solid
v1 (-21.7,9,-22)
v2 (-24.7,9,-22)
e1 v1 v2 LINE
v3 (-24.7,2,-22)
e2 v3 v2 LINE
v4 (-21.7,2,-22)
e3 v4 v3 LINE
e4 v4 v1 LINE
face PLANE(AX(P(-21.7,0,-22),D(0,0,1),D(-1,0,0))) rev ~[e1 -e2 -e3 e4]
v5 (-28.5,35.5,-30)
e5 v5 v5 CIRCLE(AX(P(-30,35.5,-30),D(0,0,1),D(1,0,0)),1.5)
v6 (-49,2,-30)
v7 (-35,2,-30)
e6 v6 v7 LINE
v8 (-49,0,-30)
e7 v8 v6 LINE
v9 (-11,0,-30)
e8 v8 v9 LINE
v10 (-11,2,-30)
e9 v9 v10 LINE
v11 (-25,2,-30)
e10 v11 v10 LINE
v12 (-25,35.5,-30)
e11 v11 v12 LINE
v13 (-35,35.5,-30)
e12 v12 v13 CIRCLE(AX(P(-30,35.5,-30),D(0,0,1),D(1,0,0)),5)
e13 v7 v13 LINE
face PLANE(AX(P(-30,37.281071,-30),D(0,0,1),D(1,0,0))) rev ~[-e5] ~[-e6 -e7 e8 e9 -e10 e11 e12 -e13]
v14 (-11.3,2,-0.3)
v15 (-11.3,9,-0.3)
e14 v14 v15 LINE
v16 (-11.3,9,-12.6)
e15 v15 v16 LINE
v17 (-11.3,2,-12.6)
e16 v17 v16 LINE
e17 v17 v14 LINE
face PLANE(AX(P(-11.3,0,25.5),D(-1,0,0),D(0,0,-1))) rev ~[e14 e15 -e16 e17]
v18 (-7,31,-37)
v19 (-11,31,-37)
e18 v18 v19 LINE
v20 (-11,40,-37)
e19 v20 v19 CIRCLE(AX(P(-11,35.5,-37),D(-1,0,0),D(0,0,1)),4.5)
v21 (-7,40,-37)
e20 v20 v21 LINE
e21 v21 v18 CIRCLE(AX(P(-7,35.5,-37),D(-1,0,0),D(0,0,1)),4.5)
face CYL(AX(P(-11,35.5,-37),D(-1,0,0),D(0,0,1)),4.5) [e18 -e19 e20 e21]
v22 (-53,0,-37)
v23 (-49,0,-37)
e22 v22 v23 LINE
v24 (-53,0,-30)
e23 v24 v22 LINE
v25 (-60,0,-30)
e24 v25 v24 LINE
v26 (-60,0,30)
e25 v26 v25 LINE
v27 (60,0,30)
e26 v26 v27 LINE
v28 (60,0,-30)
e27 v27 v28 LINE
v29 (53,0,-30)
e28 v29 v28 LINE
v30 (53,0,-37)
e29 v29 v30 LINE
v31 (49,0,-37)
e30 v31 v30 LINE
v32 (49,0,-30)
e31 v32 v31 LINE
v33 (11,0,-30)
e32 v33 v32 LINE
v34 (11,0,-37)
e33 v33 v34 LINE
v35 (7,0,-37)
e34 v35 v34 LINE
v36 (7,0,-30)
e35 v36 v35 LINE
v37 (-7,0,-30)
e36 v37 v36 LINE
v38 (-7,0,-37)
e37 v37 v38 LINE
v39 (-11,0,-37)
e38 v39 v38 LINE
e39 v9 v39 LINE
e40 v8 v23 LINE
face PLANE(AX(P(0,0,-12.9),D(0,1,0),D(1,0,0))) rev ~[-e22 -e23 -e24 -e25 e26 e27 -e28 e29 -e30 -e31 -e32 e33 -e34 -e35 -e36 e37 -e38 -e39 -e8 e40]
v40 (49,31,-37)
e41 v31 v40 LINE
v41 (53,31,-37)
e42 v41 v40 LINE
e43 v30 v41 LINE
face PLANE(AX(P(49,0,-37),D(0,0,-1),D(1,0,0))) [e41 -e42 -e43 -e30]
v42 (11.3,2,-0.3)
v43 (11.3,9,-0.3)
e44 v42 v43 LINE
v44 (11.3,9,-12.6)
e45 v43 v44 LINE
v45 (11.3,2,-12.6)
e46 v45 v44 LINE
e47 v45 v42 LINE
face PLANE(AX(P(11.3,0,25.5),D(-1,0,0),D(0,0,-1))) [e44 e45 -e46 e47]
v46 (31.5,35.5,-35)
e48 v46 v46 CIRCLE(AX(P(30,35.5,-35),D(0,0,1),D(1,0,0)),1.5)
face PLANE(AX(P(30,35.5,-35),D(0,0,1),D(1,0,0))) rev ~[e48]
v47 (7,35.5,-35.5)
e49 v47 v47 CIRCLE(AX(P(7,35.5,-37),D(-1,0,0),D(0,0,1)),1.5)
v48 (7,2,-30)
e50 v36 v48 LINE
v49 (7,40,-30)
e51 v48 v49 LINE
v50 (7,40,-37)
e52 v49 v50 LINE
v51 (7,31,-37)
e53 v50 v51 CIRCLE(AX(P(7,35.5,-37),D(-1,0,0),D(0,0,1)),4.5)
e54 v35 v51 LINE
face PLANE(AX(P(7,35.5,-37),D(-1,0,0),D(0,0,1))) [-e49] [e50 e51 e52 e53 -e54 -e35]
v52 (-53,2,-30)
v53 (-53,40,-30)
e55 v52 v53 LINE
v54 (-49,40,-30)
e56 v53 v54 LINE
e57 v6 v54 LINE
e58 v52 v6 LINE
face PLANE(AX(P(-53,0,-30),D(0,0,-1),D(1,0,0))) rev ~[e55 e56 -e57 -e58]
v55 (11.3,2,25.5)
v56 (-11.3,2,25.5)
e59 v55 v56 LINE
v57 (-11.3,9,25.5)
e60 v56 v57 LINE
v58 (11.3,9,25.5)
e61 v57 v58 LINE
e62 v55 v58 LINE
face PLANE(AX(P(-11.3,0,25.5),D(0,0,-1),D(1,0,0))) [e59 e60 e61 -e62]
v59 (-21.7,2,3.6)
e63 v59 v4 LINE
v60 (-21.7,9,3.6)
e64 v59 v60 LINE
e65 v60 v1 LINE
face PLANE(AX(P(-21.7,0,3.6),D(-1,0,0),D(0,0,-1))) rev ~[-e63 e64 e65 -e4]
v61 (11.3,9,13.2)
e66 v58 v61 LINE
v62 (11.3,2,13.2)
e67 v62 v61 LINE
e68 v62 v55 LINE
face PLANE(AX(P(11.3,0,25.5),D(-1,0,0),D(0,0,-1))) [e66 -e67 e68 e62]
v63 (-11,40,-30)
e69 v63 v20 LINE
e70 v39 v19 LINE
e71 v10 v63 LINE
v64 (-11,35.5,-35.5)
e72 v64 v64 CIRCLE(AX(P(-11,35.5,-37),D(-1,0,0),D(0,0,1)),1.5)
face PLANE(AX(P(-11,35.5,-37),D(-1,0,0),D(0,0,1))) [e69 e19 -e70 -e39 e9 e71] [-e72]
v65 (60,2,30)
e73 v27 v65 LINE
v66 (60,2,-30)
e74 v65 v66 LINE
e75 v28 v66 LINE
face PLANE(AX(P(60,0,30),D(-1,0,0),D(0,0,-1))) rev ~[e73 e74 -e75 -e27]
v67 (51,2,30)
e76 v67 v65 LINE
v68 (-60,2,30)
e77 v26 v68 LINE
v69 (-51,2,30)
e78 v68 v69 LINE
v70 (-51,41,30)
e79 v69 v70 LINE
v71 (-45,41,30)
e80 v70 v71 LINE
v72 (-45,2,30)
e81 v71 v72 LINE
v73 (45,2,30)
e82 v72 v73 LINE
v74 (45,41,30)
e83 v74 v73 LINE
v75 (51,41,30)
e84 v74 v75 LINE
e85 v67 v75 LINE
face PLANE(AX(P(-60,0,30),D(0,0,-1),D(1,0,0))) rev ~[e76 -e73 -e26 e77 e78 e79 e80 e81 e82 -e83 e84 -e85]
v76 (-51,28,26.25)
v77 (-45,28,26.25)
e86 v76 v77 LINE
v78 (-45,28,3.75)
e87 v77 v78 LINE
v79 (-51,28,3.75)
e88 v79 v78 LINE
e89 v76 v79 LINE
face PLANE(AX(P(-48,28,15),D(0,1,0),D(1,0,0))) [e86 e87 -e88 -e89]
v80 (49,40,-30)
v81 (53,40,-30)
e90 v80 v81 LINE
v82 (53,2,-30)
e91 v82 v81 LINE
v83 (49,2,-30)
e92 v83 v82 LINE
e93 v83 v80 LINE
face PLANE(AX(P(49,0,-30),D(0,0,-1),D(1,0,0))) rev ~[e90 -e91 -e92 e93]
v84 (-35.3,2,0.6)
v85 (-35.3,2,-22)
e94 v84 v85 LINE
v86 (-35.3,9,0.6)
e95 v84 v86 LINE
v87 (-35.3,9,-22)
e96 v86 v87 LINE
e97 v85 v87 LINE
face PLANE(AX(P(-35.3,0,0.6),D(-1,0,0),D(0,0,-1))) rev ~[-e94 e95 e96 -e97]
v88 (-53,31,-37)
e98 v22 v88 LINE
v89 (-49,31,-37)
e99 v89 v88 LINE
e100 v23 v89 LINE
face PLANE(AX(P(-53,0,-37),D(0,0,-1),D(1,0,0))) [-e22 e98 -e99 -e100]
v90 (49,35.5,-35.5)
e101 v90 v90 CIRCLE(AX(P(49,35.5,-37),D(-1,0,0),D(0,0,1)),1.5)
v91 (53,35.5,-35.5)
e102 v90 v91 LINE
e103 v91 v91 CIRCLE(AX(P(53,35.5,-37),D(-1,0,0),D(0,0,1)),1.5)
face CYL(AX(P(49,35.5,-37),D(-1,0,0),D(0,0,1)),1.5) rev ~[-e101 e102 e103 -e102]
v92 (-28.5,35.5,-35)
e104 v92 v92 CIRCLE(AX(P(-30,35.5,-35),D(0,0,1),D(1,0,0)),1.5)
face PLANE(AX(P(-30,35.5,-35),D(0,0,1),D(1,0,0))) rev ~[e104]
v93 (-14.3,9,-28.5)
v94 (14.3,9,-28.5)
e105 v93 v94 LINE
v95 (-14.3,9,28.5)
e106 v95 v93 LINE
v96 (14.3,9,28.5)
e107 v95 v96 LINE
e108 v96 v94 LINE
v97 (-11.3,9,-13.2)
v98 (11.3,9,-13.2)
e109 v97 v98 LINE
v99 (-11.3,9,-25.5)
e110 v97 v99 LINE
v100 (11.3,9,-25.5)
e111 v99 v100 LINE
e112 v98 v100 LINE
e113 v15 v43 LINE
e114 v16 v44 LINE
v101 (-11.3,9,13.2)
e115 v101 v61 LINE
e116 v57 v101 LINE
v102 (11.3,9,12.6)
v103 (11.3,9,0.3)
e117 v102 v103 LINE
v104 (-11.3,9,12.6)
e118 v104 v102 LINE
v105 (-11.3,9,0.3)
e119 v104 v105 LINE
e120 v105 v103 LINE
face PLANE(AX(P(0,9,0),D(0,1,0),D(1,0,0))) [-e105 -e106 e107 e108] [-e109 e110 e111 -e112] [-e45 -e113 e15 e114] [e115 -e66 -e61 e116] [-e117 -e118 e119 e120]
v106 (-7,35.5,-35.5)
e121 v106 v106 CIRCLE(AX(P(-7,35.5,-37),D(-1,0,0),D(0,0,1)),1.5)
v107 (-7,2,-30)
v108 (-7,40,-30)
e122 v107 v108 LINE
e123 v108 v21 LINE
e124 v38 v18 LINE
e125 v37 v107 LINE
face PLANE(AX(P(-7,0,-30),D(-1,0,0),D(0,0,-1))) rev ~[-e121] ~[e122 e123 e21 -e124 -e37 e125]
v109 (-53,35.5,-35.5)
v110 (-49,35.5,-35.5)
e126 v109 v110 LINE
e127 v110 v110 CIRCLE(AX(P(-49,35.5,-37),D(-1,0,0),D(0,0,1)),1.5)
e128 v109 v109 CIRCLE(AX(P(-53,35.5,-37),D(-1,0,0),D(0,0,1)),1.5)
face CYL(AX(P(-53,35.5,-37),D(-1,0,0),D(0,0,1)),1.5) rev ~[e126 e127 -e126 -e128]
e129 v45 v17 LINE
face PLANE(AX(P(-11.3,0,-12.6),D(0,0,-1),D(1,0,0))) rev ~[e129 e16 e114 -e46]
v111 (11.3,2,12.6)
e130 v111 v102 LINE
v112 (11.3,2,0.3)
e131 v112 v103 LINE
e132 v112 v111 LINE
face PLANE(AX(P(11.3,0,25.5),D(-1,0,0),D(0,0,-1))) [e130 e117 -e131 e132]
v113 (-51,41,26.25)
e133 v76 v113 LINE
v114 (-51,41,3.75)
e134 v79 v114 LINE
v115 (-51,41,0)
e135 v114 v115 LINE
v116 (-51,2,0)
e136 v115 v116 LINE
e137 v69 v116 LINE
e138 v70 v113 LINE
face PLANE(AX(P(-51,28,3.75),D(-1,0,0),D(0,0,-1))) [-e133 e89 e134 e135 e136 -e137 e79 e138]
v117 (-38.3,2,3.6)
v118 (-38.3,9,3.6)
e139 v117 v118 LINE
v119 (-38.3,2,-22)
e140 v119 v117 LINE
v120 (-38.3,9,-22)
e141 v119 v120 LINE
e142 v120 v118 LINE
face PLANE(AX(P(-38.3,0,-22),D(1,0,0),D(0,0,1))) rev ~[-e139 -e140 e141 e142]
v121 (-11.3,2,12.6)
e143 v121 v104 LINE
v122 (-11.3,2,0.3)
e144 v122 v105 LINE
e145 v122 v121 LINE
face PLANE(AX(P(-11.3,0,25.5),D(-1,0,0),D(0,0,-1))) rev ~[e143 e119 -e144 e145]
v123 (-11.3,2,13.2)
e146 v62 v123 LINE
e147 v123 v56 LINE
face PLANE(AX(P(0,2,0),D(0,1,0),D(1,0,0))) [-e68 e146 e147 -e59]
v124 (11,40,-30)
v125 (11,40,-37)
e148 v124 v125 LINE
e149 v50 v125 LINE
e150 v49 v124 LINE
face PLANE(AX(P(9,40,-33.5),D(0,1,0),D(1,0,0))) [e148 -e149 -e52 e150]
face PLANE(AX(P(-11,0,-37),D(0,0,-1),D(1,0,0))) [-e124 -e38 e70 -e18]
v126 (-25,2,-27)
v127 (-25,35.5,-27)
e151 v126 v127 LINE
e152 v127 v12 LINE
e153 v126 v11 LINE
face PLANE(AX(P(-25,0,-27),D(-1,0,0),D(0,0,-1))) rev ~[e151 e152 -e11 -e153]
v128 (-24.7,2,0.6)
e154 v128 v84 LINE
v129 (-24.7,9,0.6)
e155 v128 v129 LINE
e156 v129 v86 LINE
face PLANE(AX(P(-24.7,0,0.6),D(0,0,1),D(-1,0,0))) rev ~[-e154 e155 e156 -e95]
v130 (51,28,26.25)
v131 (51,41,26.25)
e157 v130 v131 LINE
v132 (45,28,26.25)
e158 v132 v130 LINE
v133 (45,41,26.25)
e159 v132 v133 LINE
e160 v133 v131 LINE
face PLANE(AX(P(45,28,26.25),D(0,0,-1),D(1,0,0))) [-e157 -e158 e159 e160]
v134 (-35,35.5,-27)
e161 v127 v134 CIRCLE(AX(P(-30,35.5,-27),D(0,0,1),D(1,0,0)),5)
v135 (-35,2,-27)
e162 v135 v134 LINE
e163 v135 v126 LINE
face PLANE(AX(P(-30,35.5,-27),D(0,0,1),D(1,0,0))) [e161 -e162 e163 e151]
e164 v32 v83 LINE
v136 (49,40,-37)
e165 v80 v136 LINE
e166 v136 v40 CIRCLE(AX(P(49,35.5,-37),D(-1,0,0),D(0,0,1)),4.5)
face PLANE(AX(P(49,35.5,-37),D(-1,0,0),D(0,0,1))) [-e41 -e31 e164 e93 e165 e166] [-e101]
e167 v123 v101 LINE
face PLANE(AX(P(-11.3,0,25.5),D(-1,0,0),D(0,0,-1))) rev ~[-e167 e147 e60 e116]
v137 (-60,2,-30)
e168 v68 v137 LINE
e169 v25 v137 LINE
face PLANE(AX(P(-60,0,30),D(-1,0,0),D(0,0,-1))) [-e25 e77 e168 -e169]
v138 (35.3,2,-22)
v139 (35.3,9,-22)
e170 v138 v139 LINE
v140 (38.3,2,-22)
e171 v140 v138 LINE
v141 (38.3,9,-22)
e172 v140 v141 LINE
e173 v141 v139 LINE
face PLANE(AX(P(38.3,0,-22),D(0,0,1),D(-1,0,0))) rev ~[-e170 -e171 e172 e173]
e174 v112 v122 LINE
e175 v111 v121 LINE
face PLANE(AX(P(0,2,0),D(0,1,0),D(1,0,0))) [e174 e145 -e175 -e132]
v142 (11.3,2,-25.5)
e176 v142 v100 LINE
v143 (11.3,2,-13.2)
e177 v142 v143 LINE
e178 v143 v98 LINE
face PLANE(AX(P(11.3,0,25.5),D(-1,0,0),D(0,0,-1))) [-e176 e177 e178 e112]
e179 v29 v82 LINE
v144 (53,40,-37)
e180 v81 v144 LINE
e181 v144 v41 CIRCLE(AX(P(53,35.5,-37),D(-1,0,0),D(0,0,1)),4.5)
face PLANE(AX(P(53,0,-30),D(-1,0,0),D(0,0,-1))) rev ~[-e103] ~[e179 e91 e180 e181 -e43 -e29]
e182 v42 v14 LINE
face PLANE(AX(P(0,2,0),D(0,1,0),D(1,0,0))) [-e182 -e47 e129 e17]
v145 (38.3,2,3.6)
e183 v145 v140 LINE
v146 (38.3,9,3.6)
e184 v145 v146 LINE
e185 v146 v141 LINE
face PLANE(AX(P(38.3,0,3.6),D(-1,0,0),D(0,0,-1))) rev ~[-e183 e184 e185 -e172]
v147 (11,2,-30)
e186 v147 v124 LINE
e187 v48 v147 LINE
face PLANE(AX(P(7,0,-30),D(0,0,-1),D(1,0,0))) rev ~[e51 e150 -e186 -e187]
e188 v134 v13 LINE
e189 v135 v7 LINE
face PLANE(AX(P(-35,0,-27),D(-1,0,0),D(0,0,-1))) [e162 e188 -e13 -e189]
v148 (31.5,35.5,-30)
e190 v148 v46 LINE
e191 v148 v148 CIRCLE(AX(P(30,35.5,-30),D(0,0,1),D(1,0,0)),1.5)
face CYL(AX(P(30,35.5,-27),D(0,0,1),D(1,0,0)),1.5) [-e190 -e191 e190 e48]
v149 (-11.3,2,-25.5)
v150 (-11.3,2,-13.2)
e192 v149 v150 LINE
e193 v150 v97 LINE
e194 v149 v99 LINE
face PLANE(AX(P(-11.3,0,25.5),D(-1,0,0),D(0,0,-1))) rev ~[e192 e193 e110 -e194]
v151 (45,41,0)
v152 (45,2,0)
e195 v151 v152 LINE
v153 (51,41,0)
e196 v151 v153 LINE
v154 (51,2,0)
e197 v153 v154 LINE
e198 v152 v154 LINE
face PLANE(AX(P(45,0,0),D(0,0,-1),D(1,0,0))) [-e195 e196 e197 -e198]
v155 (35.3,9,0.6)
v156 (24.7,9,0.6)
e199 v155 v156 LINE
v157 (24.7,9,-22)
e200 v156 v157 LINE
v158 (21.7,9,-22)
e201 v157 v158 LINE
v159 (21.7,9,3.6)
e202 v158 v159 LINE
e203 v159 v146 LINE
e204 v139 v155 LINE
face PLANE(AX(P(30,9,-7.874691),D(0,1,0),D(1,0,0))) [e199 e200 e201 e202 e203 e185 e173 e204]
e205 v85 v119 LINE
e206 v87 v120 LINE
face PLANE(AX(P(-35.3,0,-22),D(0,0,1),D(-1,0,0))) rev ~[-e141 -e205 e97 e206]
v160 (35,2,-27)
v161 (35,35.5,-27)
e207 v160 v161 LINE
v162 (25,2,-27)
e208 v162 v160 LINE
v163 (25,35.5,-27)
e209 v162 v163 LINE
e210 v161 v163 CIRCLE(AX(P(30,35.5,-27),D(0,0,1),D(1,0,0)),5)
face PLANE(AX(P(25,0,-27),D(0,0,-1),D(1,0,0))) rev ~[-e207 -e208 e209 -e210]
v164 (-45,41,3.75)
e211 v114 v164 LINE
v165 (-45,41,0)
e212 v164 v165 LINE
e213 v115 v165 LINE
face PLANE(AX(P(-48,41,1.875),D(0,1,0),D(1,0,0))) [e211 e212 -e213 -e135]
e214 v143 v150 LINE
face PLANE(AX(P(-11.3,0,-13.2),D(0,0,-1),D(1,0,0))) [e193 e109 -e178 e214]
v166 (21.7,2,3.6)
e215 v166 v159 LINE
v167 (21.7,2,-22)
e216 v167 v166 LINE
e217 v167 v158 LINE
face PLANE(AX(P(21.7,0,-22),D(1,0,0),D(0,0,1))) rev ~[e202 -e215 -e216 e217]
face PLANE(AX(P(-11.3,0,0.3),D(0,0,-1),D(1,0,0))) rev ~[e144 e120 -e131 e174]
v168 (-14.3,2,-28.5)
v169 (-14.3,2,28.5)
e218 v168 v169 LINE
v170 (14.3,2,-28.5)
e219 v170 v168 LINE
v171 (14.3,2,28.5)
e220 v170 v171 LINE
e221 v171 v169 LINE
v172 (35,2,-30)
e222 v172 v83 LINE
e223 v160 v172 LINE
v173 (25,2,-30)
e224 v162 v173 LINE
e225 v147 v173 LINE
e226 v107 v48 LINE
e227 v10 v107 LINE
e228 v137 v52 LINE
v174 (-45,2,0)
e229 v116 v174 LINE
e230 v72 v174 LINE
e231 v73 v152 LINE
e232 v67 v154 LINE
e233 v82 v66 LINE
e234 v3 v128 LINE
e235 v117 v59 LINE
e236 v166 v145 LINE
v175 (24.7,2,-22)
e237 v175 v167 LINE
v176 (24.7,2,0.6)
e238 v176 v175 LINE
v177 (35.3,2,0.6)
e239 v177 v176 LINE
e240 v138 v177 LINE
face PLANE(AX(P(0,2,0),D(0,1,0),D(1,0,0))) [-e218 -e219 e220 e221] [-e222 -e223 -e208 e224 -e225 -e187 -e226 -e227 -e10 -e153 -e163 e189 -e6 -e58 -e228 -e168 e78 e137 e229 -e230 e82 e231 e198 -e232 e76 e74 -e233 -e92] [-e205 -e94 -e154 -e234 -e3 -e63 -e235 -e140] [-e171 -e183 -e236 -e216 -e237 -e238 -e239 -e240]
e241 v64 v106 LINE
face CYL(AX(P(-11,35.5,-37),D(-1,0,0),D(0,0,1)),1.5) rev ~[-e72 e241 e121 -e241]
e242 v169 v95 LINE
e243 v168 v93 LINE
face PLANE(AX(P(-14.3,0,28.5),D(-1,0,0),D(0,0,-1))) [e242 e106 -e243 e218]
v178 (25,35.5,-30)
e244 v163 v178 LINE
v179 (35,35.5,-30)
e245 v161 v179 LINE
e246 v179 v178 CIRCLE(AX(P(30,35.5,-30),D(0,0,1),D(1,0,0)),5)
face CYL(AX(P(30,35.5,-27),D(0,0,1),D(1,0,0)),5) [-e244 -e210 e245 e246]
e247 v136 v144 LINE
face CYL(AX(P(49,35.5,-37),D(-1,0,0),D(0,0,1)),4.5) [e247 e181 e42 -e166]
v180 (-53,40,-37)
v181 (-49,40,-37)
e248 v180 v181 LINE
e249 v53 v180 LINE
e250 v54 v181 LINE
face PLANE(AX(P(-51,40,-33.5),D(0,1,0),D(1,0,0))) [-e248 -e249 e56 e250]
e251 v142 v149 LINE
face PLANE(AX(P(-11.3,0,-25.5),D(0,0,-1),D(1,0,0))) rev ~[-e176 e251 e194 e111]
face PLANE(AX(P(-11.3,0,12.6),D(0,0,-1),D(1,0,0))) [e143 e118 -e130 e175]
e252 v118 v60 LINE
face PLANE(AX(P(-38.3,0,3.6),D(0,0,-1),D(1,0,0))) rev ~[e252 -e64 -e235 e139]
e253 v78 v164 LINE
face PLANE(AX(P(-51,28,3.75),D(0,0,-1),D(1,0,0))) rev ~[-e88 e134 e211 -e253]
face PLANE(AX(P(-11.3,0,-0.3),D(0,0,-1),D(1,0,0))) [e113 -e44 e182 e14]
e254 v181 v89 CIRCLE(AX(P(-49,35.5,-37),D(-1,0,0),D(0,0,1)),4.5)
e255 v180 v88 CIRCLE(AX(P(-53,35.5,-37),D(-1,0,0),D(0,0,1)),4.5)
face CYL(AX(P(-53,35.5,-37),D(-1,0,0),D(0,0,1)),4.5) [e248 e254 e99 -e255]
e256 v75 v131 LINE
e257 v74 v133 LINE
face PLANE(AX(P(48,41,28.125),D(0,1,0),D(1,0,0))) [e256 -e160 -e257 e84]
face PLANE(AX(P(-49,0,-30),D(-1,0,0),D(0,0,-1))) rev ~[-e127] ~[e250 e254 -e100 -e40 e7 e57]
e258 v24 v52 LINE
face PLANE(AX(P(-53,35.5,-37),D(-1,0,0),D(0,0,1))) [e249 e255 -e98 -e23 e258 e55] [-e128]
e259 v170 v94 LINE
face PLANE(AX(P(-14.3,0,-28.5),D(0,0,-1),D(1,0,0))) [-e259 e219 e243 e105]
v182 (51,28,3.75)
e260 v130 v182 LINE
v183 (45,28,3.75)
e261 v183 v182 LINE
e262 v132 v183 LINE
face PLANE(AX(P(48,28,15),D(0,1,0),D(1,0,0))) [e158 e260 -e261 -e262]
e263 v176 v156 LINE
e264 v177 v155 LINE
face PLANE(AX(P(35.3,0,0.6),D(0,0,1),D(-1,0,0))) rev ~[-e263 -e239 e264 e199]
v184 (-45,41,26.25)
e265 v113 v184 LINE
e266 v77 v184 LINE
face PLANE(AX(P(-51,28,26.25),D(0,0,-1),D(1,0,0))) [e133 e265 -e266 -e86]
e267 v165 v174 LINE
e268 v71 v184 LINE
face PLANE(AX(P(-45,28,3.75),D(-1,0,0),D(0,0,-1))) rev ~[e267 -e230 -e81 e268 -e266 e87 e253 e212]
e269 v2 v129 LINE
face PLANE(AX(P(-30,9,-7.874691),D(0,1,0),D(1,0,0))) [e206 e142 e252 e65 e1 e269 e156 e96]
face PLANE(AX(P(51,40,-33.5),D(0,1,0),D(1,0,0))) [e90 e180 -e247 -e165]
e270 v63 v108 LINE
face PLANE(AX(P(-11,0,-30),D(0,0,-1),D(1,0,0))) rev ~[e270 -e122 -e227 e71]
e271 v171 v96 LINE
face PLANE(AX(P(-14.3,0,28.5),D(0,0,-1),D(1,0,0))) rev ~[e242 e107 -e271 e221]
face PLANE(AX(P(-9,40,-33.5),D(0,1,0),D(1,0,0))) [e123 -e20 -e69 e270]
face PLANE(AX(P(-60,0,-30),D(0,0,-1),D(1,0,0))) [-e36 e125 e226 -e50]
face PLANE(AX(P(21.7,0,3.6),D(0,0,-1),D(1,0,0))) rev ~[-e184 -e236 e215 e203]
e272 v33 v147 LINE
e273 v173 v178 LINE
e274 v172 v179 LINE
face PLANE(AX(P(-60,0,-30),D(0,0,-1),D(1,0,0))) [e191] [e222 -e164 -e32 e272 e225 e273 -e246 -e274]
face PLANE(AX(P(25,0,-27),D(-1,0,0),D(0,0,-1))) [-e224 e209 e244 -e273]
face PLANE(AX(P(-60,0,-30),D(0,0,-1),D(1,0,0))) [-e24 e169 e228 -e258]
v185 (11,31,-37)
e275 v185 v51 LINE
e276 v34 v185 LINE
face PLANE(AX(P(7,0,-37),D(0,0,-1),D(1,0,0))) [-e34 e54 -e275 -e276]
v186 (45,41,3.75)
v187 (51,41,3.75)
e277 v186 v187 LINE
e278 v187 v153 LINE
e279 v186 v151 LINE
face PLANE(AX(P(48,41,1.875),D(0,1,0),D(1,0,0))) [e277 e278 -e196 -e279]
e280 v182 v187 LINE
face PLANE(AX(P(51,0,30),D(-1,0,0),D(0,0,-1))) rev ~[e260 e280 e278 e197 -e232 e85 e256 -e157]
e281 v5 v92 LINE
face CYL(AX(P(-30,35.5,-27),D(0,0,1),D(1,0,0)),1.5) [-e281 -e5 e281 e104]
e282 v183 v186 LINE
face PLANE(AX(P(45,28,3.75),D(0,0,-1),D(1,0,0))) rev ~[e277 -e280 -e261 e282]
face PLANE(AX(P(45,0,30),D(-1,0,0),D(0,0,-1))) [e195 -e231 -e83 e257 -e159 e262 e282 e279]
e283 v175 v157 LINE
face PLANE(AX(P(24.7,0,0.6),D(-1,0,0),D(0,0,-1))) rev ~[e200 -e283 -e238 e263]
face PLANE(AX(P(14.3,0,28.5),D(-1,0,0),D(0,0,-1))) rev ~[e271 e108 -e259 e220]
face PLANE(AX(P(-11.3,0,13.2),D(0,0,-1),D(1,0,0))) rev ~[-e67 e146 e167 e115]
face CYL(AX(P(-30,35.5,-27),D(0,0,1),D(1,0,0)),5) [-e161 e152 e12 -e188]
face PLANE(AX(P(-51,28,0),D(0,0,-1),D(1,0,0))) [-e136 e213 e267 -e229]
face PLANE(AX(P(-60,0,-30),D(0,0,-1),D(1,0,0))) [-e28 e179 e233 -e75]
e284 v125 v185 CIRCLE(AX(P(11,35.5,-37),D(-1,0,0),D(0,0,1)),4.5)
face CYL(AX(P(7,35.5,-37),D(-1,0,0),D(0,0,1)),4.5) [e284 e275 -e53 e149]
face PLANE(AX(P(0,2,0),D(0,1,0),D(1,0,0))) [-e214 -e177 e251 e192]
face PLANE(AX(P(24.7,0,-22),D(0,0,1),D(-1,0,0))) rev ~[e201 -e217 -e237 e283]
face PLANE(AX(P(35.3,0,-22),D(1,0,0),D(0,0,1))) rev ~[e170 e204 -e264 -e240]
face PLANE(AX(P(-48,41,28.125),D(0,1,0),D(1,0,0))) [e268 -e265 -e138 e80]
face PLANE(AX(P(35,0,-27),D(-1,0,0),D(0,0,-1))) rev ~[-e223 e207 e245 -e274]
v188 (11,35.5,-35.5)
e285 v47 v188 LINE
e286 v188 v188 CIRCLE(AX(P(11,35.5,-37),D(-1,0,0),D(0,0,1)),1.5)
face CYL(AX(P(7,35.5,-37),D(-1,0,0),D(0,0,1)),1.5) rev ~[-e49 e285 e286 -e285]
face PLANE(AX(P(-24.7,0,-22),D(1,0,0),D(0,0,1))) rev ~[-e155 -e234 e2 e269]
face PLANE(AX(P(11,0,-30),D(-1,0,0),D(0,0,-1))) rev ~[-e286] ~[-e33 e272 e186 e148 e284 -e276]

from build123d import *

# Parameters (mm, degrees)
BOSS_EXTRUDE1_DEPTH   = 9
BOSS_EXTRUDE1_2_DEPTH = 9
SKETCH1_3_W           = 6
SKETCH1_3_H           = 30
BOSS_EXTRUDE2_DEPTH   = 28
BOSS_EXTRUDE2_2_DEPTH = 28
SKETCH1_4_W           = 4
SKETCH1_4_H           = 7
BOSS_EXTRUDE3_DEPTH   = 40
BOSS_EXTRUDE3_2_DEPTH = 40
BOSS_EXTRUDE3_3_DEPTH = 40
BOSS_EXTRUDE3_4_DEPTH = 40
SKETCH1_5_W           = 10
SKETCH1_5_H           = 3
BOSS_EXTRUDE4_DEPTH   = 35.5
BOSS_EXTRUDE4_2_DEPTH = 35.5
SKETCH1_6_W           = 120
SKETCH1_6_H           = 60
BOSS_EXTRUDE5_DEPTH   = 2
SKETCH1_8_W           = 28.6
SKETCH1_8_H           = 57
SKETCH1_8_W_2         = 22.6
SKETCH1_8_H_2         = 51
BOSS_EXTRUDE6_DEPTH   = 9
SKETCH1_9_W           = 22.6
SKETCH1_9_H           = 0.6
BOSS_EXTRUDE7_DEPTH   = 9
SKETCH2_W             = 6
SKETCH2_H             = 3.75
BOSS_EXTRUDE8_DEPTH   = 13
BOSS_EXTRUDE9_DEPTH   = 3
SKETCH3_5_R           = 1.5
BOSS_EXTRUDE11_DEPTH  = 8
SKETCH4_R             = 4.5
SKETCH4_R_2           = 1.5
BOSS_EXTRUDE13_DEPTH  = 4
SKETCH4_4_R           = 1.5
CUT_EXTRUDE2_DEPTH    = 4
SKETCH5_R             = 4.5
SKETCH5_R_2           = 1.5
BOSS_EXTRUDE14_DEPTH  = 4
SKETCH5_2_R           = 1.5
CUT_EXTRUDE3_DEPTH    = 4
SKETCH7_R             = 4.5
SKETCH7_R_2           = 1.5
BOSS_EXTRUDE15_DEPTH  = 4
SKETCH7_2_R           = 1.5
CUT_EXTRUDE4_DEPTH    = 4
SKETCH8_R             = 4.5
SKETCH8_R_2           = 1.5
BOSS_EXTRUDE16_DEPTH  = 4
SKETCH8_4_R           = 1.5
CUT_EXTRUDE5_DEPTH    = 4


with BuildPart() as part:
    # Sketch1 → Boss-Extrude1 (new body)
    with BuildSketch(Plane(origin=(0, 0, 0), x_dir=(1, 0, 0), z_dir=(0, 1, 0))):
        Polygon((24.7, -0.6), (24.7, 22), (21.7, 22), (21.7, -3.6), (38.3, -3.6), (38.3, 22), (35.3, 22), (35.3, -0.6), align=None)
    extrude(amount=BOSS_EXTRUDE1_DEPTH)



with BuildPart() as body_2:
    # Sketch1 → Boss-Extrude1 2 (new body)
    with BuildSketch(Plane(origin=(0, 0, 0), x_dir=(1, 0, 0), z_dir=(0, 1, 0))):
        Polygon((-35.3, 22), (-38.3, 22), (-38.3, -3.6), (-21.7, -3.6), (-21.7, 22), (-24.7, 22), (-24.7, -0.6), (-35.3, -0.6), align=None)
    extrude(amount=BOSS_EXTRUDE1_2_DEPTH)


with BuildPart() as body_3:
    # Sketch1<3> → Boss-Extrude2 (new body)
    with BuildSketch(Plane(origin=(0, 0, 0), x_dir=(1, 0, 0), z_dir=(0, 1, 0))):
        with Locations((-48, -15)):
            Rectangle(SKETCH1_3_W, SKETCH1_3_H)
    extrude(amount=BOSS_EXTRUDE2_DEPTH)


with BuildPart() as body_4:
    # Sketch1<3> → Boss-Extrude2 2 (new body)
    with BuildSketch(Plane(origin=(0, 0, 0), x_dir=(1, 0, 0), z_dir=(0, 1, 0))):
        with Locations((48, -15)):
            Rectangle(SKETCH1_3_W, SKETCH1_3_H)
    extrude(amount=BOSS_EXTRUDE2_2_DEPTH)


with BuildPart() as body_5:
    # Sketch1<4> → Boss-Extrude3 (new body)
    with BuildSketch(Plane(origin=(0, 0, 0), x_dir=(1, 0, 0), z_dir=(0, 1, 0))):
        with Locations((-51, 33.5)):
            Rectangle(SKETCH1_4_W, SKETCH1_4_H)
    extrude(amount=BOSS_EXTRUDE3_DEPTH)


with BuildPart() as body_6:
    # Sketch1<4> → Boss-Extrude3 2 (new body)
    with BuildSketch(Plane(origin=(0, 0, 0), x_dir=(1, 0, 0), z_dir=(0, 1, 0))):
        with Locations((-9, 33.5)):
            Rectangle(SKETCH1_4_W, SKETCH1_4_H)
    extrude(amount=BOSS_EXTRUDE3_2_DEPTH)


with BuildPart() as body_7:
    # Sketch1<4> → Boss-Extrude3 3 (new body)
    with BuildSketch(Plane(origin=(0, 0, 0), x_dir=(1, 0, 0), z_dir=(0, 1, 0))):
        with Locations((9, 33.5)):
            Rectangle(SKETCH1_4_W, SKETCH1_4_H)
    extrude(amount=BOSS_EXTRUDE3_3_DEPTH)


with BuildPart() as body_8:
    # Sketch1<4> → Boss-Extrude3 4 (new body)
    with BuildSketch(Plane(origin=(0, 0, 0), x_dir=(1, 0, 0), z_dir=(0, 1, 0))):
        with Locations((51, 33.5)):
            Rectangle(SKETCH1_4_W, SKETCH1_4_H)
    extrude(amount=BOSS_EXTRUDE3_4_DEPTH)


with BuildPart() as body_9:
    # Sketch1<5> → Boss-Extrude4 (new body)
    with BuildSketch(Plane(origin=(0, 0, 0), x_dir=(1, 0, 0), z_dir=(0, 1, 0))):
        with Locations((30, 28.5)):
            Rectangle(SKETCH1_5_W, SKETCH1_5_H)
    extrude(amount=BOSS_EXTRUDE4_DEPTH)


with BuildPart() as body_10:
    # Sketch1<5> → Boss-Extrude4 2 (new body)
    with BuildSketch(Plane(origin=(0, 0, 0), x_dir=(1, 0, 0), z_dir=(0, 1, 0))):
        with Locations((-30, 28.5)):
            Rectangle(SKETCH1_5_W, SKETCH1_5_H)
    extrude(amount=BOSS_EXTRUDE4_2_DEPTH)


with BuildPart() as part_1:
    add(part.part)

    add(body_2.part)  # Boss-Extrude5 merges body 2

    add(body_3.part)  # Boss-Extrude5 merges body 3

    add(body_4.part)  # Boss-Extrude5 merges body 4

    add(body_5.part)  # Boss-Extrude5 merges body 5

    add(body_6.part)  # Boss-Extrude5 merges body 6

    add(body_7.part)  # Boss-Extrude5 merges body 7

    add(body_8.part)  # Boss-Extrude5 merges body 8

    add(body_9.part)  # Boss-Extrude5 merges body 9

    add(body_10.part)  # Boss-Extrude5 merges body 10
    # Sketch1<6> → Boss-Extrude5 (add)
    with BuildSketch(Plane(origin=(0, 0, 0), x_dir=(1, 0, 0), z_dir=(0, 1, 0))):
        Rectangle(SKETCH1_6_W, SKETCH1_6_H)
    extrude(amount=BOSS_EXTRUDE5_DEPTH)

    # Sketch1<8> → Boss-Extrude6 (add)
    with BuildSketch(Plane(origin=(0, 0, 0), x_dir=(1, 0, 0), z_dir=(0, 1, 0))):
        Rectangle(SKETCH1_8_W, SKETCH1_8_H)
        Rectangle(SKETCH1_8_W_2, SKETCH1_8_H_2, mode=Mode.SUBTRACT)
    extrude(amount=BOSS_EXTRUDE6_DEPTH)

    # Sketch1<9> → Boss-Extrude7 (add)
    with BuildSketch(Plane(origin=(0, 0, 0), x_dir=(1, 0, 0), z_dir=(0, 1, 0))):
        with Locations((0, 12.9)):
            Rectangle(SKETCH1_9_W, SKETCH1_9_H)
        Rectangle(SKETCH1_9_W, SKETCH1_9_H)
        with Locations((0, -12.9)):
            Rectangle(SKETCH1_9_W, SKETCH1_9_H)
    extrude(amount=BOSS_EXTRUDE7_DEPTH)

    # Sketch2 → Boss-Extrude8 (add)
    with BuildSketch(Plane(origin=(0, 28, 0), x_dir=(1, 0, 0), z_dir=(0, 1, 0))):
        with Locations((-48, -1.875)):
            Rectangle(SKETCH2_W, SKETCH2_H)
        with Locations((-48, -28.125)):
            Rectangle(SKETCH2_W, SKETCH2_H)
        with Locations((48, -1.875)):
            Rectangle(SKETCH2_W, SKETCH2_H)
        with Locations((48, -28.125)):
            Rectangle(SKETCH2_W, SKETCH2_H)
    extrude(amount=BOSS_EXTRUDE8_DEPTH)

    # Sketch3 → Boss-Extrude9 (add)
    with BuildSketch(Plane.XY.offset(-27)):
        with BuildLine():
            ThreePointArc((-31.5, 35.5), (-30, 37), (-28.5, 35.5))
            Line((-28.5, 35.5), (-25, 35.5))
            ThreePointArc((-25, 35.5), (-30, 40.5), (-35, 35.5))
            Line((-35, 35.5), (-31.5, 35.5))
        make_face()
        with BuildLine():
            ThreePointArc((28.5, 35.5), (30, 37), (31.5, 35.5))
            Line((31.5, 35.5), (35, 35.5))
            ThreePointArc((35, 35.5), (30, 40.5), (25, 35.5))
            Line((25, 35.5), (28.5, 35.5))
        make_face()
    extrude(amount=-BOSS_EXTRUDE9_DEPTH)

    # Sketch3<5> → Boss-Extrude11 (add)
    with BuildSketch(Plane.XY.offset(-27)):
        with Locations((-30, 35.5)):
            Circle(SKETCH3_5_R)
        with Locations((30, 35.5)):
            Circle(SKETCH3_5_R)
    extrude(amount=-BOSS_EXTRUDE11_DEPTH)

    # Sketch4 → Boss-Extrude13 (add)
    with BuildSketch(Plane.ZY.offset(53)):
        with Locations((-37, 35.5)):
            Circle(SKETCH4_R)
        with Locations((-37, 35.5)):
            Circle(SKETCH4_R_2, mode=Mode.SUBTRACT)
    extrude(amount=-BOSS_EXTRUDE13_DEPTH)

    # Sketch4<4> → Cut-Extrude2 (cut)
    with BuildSketch(Plane.ZY.offset(53)):
        with Locations((-37, 35.5)):
            Circle(SKETCH4_4_R)
    extrude(amount=-CUT_EXTRUDE2_DEPTH, mode=Mode.SUBTRACT)

    # Sketch5 → Boss-Extrude14 (add)
    with BuildSketch(Plane.ZY.offset(11)):
        with Locations((-37, 35.5)):
            Circle(SKETCH5_R)
        with Locations((-37, 35.5)):
            Circle(SKETCH5_R_2, mode=Mode.SUBTRACT)
    extrude(amount=-BOSS_EXTRUDE14_DEPTH)

    # Sketch5<2> → Cut-Extrude3 (cut)
    with BuildSketch(Plane.ZY.offset(11)):
        with Locations((-37, 35.5)):
            Circle(SKETCH5_2_R)
    extrude(amount=-CUT_EXTRUDE3_DEPTH, mode=Mode.SUBTRACT)

    # Sketch7 → Boss-Extrude15 (add)
    with BuildSketch(Plane.ZY.offset(-7)):
        with Locations((-37, 35.5)):
            Circle(SKETCH7_R)
        with Locations((-37, 35.5)):
            Circle(SKETCH7_R_2, mode=Mode.SUBTRACT)
    extrude(amount=-BOSS_EXTRUDE15_DEPTH)

    # Sketch7<2> → Cut-Extrude4 (cut)
    with BuildSketch(Plane.ZY.offset(-7)):
        with Locations((-37, 35.5)):
            Circle(SKETCH7_2_R)
    extrude(amount=-CUT_EXTRUDE4_DEPTH, mode=Mode.SUBTRACT)

    # Sketch8 → Boss-Extrude16 (add)
    with BuildSketch(Plane.ZY.offset(-49)):
        with Locations((-37, 35.5)):
            Circle(SKETCH8_R)
        with Locations((-37, 35.5)):
            Circle(SKETCH8_R_2, mode=Mode.SUBTRACT)
    extrude(amount=-BOSS_EXTRUDE16_DEPTH)

    # Sketch8<4> → Cut-Extrude5 (cut)
    with BuildSketch(Plane.ZY.offset(-49)):
        with Locations((-37, 35.5)):
            Circle(SKETCH8_4_R)
    extrude(amount=-CUT_EXTRUDE5_DEPTH, mode=Mode.SUBTRACT)


solid = part_1.part
